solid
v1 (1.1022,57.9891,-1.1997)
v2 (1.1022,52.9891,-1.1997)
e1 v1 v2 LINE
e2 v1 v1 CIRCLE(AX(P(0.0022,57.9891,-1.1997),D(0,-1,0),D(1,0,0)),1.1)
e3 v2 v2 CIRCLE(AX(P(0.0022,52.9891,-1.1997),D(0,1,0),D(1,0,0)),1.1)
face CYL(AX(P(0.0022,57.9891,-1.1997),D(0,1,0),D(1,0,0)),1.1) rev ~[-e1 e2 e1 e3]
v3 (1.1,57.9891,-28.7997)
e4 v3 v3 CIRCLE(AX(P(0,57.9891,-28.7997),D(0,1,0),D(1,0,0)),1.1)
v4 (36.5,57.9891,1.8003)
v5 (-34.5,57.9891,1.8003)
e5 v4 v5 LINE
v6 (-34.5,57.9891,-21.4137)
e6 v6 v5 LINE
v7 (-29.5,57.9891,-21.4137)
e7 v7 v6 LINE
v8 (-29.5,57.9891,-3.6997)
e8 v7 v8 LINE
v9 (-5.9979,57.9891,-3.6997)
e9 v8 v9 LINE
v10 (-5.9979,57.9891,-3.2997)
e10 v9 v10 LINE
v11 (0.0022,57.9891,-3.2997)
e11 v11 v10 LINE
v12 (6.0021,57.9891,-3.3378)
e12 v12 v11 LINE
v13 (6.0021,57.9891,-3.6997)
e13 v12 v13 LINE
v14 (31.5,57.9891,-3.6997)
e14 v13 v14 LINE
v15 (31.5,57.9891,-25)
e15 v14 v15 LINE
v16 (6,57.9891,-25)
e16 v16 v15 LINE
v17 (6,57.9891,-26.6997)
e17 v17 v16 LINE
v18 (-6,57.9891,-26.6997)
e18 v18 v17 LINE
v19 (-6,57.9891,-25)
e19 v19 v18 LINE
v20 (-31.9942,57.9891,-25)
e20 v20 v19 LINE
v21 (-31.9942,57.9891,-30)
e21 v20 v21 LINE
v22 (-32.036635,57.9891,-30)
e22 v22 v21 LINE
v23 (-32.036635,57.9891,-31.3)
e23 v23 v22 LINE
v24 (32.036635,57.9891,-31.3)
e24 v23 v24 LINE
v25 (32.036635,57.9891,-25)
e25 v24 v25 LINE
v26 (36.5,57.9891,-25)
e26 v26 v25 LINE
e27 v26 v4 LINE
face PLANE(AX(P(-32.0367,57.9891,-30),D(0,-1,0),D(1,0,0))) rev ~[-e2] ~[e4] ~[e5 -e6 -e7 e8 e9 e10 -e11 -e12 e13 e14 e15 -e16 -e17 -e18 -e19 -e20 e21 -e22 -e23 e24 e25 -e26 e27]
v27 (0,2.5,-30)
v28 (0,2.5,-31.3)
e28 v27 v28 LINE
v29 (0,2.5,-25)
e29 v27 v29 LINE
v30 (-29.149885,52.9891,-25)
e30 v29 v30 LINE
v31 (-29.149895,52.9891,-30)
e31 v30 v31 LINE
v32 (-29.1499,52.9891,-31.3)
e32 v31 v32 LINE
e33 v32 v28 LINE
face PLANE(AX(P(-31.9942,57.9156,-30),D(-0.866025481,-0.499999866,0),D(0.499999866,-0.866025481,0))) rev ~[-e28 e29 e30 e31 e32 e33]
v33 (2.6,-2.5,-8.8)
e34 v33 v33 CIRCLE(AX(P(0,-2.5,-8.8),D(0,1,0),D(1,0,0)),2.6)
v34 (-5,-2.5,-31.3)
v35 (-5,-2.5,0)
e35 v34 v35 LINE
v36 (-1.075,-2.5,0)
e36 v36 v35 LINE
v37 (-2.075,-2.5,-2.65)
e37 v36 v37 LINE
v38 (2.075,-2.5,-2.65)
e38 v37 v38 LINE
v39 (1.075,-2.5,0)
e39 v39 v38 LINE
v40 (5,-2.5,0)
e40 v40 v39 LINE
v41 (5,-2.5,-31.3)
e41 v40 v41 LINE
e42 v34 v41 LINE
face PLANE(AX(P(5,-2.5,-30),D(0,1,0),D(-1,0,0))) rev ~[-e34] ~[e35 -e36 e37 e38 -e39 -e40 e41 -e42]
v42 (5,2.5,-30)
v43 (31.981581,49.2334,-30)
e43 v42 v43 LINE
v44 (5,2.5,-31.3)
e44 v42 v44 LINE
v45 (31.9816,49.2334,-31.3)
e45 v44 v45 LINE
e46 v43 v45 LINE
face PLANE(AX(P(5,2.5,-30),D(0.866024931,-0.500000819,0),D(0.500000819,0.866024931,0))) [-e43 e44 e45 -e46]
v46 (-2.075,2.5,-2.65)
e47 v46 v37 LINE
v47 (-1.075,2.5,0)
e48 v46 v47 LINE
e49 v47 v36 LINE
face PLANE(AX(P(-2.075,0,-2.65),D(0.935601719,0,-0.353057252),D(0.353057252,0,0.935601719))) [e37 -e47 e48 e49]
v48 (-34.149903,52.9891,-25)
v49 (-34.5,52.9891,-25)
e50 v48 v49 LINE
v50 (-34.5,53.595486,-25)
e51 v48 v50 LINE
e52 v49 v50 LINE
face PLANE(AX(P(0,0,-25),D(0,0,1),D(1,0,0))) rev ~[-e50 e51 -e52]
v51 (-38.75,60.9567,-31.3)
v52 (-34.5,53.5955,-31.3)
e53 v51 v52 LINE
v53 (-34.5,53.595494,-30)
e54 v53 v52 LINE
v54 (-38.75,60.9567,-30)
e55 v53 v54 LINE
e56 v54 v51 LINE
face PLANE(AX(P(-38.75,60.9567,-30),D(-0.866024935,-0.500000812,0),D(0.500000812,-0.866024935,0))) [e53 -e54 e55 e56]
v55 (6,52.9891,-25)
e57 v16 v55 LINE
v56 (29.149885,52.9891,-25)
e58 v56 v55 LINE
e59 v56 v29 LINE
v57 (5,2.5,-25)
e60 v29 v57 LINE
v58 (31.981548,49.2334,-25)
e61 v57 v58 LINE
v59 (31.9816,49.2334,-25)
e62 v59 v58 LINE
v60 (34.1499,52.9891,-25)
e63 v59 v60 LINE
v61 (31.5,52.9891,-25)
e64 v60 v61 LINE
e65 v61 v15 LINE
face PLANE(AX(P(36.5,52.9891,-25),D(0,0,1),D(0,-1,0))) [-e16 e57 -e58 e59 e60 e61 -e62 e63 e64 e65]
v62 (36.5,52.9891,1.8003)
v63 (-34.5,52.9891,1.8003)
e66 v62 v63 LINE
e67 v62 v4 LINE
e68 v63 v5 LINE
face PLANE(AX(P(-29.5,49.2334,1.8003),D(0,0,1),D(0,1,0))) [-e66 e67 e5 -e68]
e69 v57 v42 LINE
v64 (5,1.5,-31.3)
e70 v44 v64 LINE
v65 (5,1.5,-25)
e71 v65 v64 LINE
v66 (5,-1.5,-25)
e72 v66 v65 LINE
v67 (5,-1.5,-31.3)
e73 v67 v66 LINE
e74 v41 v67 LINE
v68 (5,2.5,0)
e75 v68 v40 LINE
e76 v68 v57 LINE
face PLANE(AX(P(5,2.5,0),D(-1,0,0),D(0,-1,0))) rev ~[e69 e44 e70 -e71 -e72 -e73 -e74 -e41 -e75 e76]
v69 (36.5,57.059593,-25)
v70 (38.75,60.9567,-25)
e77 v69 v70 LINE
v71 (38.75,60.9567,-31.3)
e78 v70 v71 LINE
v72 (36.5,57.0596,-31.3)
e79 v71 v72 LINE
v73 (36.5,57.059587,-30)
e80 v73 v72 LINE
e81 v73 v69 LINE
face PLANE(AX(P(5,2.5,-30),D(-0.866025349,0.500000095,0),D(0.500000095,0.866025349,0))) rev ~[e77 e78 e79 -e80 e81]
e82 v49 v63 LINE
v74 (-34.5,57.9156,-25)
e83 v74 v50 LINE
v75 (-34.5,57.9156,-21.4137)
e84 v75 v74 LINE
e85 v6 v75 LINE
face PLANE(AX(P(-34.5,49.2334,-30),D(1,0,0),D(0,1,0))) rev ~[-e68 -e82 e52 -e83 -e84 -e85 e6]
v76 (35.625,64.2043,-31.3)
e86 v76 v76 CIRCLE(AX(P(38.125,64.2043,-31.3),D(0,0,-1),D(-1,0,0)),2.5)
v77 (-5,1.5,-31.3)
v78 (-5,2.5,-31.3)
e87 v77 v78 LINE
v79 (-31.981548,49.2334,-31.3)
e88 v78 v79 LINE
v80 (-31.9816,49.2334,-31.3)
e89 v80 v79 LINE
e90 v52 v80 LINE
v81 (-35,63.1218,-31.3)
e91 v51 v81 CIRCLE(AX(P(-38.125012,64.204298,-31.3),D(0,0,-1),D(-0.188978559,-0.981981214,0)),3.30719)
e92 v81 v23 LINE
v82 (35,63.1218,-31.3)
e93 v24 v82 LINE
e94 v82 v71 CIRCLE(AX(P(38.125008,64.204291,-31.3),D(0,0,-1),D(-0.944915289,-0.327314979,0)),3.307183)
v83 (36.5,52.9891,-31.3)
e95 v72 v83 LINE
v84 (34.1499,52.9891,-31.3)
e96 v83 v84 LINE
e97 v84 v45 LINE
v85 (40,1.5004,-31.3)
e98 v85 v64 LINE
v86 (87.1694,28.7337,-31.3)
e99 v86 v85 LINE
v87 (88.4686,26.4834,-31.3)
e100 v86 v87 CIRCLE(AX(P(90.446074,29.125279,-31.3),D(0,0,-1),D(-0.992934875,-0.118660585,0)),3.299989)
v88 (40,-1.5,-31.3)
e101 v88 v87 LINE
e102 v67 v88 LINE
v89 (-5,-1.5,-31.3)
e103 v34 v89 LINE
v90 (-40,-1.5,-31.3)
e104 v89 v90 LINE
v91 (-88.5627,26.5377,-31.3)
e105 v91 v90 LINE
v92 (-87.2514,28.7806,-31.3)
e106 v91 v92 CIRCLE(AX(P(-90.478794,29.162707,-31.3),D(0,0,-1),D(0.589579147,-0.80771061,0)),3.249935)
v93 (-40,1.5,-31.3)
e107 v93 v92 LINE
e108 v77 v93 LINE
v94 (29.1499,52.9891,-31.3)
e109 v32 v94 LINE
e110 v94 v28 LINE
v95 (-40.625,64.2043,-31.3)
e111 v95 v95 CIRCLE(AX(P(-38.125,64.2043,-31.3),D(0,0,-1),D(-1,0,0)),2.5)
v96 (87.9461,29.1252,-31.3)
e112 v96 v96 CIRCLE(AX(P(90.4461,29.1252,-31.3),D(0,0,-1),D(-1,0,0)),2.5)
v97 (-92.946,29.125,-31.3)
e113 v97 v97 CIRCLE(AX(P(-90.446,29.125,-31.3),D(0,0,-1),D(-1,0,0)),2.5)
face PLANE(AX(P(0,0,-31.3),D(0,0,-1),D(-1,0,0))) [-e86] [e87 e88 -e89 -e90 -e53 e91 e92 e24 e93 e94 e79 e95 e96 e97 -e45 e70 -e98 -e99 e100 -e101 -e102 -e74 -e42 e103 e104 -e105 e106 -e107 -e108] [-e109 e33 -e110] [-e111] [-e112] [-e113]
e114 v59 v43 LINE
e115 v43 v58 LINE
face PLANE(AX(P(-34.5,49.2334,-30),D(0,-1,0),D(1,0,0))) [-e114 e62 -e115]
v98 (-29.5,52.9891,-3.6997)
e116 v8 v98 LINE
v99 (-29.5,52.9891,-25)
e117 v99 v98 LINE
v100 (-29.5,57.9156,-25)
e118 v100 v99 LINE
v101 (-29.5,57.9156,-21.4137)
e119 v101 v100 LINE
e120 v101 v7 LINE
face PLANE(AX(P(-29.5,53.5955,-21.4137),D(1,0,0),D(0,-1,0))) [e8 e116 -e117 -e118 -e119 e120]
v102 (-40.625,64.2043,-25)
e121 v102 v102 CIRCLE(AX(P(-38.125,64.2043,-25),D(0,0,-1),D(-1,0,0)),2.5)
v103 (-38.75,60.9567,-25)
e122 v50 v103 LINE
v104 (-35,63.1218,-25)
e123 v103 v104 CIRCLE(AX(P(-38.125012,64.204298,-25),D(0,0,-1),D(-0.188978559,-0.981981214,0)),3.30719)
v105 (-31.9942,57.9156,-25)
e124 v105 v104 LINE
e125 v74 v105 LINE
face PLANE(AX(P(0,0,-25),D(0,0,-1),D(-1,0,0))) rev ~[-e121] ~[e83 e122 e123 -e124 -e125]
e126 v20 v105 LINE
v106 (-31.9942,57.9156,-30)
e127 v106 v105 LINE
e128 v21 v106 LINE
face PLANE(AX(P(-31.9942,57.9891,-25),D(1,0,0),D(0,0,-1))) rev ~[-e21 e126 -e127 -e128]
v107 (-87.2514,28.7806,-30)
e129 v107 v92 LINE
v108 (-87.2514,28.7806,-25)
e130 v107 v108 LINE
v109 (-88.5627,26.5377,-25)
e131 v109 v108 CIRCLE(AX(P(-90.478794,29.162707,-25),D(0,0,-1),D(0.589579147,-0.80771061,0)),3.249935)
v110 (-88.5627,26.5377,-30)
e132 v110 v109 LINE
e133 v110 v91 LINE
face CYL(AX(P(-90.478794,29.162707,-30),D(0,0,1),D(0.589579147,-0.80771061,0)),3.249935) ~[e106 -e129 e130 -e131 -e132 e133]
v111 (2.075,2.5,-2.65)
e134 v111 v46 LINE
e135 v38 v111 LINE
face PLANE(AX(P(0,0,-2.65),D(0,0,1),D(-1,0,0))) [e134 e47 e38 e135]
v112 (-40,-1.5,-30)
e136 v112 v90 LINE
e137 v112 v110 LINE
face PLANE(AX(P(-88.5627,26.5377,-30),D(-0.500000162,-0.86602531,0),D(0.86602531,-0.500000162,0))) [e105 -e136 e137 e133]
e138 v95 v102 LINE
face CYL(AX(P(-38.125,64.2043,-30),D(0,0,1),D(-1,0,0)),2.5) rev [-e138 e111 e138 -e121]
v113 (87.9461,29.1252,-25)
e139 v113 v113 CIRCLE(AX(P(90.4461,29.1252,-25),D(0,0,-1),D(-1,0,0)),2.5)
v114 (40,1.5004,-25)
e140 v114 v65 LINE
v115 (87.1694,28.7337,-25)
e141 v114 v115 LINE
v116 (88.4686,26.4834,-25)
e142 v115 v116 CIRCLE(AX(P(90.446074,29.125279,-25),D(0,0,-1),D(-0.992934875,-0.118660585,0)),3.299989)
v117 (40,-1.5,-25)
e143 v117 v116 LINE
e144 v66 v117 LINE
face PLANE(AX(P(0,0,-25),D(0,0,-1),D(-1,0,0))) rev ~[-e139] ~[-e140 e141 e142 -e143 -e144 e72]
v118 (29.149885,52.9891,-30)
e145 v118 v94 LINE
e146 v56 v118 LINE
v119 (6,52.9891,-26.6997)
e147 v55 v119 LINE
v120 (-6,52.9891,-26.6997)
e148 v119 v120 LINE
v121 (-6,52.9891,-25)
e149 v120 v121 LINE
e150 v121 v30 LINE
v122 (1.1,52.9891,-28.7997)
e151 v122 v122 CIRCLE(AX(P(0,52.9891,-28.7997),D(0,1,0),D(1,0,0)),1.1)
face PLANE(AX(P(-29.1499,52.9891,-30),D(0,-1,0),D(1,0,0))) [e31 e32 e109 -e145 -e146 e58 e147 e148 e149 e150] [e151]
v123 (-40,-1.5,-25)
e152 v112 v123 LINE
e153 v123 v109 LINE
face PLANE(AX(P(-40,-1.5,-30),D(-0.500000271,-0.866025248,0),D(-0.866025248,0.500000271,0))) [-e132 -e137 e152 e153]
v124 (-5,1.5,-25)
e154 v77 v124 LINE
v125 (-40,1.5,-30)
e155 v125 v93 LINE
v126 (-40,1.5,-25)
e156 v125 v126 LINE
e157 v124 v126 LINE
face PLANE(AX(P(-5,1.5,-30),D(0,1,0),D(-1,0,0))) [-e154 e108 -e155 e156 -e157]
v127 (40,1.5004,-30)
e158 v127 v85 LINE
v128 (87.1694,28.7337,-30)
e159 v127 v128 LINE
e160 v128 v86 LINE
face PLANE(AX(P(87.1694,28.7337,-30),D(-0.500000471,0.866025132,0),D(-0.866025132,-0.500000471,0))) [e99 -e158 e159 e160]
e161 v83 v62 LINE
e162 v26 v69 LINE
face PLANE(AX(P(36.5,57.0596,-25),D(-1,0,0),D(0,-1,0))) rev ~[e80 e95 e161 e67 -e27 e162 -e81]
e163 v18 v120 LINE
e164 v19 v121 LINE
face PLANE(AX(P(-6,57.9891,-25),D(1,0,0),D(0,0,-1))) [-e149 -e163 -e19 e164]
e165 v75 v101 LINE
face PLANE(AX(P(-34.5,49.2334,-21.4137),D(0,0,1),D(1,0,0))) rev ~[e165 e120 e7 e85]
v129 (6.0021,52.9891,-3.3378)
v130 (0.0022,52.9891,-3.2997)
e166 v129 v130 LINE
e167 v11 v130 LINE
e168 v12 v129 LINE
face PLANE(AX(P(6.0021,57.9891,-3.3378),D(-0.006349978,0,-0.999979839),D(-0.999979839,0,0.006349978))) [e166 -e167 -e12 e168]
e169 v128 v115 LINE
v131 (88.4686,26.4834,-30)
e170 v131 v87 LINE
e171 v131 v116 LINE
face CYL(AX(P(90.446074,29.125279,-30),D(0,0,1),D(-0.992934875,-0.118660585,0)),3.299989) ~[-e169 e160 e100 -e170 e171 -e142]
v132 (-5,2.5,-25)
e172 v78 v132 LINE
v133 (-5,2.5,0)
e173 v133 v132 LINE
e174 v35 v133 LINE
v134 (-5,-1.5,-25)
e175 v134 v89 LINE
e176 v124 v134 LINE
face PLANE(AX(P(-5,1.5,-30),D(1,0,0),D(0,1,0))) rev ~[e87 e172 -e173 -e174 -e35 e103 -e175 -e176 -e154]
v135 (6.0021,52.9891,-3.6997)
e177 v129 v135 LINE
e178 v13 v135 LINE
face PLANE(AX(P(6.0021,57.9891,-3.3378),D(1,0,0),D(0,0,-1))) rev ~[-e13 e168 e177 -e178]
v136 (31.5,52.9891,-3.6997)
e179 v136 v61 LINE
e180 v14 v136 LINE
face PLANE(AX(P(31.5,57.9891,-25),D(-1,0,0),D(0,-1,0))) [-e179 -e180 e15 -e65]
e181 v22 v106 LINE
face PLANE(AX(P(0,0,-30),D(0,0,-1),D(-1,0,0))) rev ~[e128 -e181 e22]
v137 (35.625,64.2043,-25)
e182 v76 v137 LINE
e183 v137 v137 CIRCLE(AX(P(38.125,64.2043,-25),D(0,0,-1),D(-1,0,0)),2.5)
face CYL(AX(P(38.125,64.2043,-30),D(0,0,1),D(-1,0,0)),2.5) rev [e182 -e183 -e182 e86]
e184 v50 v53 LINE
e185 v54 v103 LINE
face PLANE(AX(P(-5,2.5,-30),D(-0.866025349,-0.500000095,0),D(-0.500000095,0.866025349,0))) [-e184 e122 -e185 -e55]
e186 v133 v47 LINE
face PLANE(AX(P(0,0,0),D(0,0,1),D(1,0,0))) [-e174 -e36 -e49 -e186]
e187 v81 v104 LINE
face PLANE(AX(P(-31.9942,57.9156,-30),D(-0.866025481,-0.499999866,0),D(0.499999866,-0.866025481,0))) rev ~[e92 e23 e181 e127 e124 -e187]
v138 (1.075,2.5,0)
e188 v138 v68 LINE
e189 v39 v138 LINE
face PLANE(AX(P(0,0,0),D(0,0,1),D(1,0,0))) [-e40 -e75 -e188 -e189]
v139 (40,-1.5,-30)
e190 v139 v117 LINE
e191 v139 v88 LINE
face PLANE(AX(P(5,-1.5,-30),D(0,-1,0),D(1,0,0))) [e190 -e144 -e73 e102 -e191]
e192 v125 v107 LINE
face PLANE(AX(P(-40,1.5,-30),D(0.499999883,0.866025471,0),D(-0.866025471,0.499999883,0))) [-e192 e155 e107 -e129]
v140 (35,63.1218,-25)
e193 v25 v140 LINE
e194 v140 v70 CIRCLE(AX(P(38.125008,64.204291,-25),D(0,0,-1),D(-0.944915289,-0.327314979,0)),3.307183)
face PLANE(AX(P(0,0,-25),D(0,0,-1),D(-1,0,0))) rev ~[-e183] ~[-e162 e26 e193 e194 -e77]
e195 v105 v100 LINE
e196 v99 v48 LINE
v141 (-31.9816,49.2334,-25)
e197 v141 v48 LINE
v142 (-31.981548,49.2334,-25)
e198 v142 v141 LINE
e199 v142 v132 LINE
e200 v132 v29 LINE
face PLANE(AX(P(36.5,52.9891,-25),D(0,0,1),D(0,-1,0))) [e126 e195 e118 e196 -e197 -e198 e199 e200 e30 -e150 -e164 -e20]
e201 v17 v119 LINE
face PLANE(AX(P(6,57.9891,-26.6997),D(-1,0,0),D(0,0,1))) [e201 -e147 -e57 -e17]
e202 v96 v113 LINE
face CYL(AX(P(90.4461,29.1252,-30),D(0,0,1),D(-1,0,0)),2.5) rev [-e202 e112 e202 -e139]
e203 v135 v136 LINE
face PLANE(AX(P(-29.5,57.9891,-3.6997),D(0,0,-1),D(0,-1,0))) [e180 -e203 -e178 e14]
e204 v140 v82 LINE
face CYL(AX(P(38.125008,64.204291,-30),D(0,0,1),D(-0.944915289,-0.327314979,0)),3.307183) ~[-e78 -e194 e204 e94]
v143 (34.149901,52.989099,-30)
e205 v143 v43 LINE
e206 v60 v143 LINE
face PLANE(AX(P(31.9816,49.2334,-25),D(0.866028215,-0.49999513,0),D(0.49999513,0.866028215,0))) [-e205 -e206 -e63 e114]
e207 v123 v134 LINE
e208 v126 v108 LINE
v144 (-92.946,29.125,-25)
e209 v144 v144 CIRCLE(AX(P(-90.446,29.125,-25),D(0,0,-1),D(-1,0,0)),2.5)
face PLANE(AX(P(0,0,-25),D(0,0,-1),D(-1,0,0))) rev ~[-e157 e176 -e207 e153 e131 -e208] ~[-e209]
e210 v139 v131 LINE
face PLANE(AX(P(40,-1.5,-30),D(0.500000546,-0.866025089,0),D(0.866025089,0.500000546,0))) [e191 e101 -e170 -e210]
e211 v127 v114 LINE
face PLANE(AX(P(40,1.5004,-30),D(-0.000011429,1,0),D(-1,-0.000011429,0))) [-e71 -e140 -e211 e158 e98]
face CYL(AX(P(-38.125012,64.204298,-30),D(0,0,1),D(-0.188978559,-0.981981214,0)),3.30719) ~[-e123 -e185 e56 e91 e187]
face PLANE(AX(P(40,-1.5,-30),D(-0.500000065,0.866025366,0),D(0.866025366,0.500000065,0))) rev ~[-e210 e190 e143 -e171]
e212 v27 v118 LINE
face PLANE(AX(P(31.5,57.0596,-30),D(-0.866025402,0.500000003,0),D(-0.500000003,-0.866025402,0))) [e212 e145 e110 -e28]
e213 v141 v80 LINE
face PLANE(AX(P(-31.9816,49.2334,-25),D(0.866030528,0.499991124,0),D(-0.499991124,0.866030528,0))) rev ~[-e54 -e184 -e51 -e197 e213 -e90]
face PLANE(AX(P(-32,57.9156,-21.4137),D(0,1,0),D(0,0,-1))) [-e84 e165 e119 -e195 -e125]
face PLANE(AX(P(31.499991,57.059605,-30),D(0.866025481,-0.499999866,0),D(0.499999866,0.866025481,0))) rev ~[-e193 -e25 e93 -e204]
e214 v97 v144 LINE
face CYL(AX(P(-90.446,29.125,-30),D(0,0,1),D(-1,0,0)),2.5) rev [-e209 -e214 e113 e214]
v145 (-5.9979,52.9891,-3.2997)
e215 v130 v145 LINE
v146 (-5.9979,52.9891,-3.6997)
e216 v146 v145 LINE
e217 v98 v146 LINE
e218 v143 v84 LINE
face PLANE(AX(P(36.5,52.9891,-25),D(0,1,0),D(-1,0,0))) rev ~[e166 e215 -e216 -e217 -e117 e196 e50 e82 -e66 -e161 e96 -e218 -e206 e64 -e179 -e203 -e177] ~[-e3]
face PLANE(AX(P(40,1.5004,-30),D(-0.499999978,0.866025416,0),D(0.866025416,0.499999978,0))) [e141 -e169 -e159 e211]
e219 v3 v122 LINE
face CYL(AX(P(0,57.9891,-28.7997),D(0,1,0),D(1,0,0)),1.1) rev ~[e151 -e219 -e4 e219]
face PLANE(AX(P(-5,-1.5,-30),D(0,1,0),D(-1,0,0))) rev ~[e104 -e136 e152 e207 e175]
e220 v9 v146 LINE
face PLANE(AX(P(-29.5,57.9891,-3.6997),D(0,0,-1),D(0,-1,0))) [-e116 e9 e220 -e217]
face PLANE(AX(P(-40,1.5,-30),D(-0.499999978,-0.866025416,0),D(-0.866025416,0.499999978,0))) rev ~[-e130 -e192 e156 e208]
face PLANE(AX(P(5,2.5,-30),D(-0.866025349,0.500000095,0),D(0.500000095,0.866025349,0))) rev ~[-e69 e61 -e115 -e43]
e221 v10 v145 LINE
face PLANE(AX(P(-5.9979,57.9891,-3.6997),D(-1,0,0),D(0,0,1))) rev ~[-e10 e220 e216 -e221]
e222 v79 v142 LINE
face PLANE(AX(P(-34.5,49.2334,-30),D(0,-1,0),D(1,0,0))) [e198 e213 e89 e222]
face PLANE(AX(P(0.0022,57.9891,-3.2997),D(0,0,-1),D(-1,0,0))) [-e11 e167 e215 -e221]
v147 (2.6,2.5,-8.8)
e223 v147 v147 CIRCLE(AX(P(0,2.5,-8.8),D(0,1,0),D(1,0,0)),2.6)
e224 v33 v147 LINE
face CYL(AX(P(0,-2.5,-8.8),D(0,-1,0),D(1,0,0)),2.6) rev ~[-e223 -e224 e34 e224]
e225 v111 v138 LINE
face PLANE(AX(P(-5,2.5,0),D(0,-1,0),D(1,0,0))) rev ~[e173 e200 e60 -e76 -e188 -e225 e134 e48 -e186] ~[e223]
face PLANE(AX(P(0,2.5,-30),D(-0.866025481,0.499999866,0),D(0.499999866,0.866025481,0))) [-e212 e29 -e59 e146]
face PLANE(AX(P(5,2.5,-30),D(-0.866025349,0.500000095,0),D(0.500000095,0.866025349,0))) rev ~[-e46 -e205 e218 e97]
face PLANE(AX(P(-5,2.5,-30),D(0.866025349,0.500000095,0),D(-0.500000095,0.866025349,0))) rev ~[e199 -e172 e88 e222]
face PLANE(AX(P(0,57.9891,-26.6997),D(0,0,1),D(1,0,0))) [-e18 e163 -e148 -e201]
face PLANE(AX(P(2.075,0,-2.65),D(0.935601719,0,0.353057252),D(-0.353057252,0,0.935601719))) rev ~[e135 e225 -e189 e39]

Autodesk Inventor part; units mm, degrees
ref_plane "XZ Plane" through (0, 0, 0) normal (0, 1, 0) x (-1, 0, 0)
ref_plane "XY Plane" through (0, 0, 0) normal (0, 0, 1) x (1, 0, 0)
sketch "Sketch1" plane through (0, 0, 0) normal (0, 0, 1) x (1, 0, 0)
  line L0 (5, -2.5) -> (-5, -2.5)
  line L1 (-5, -2.5) -> (-5, 2.5)
  line L2 (-5, 2.5) -> (5, 2.5)
  line L3 (5, 2.5) -> (5, -2.5)
  line L4 (5, -2.5) -> (-5, 2.5) construction
  line L5 (-5, -2.5) -> (5, 2.5) construction
  point P0 (0, 0)
  dimension "d0" = 10
  dimension "d1" = 5
extrude "Extrusion1" add sketch "Sketch1" against normal blind 30
sketch "Sketch2" plane through (0, 0, 0) normal (0, 1, 0) x (-1, 0, 0)
  line L0 (0, 0) -> (0, -2.65)
  line L1 (0, -2.65) -> (2.075, -2.65)
  line L2 (0, -2.65) -> (-2.075, -2.65)
  line L3 (0, 0) -> (-1.075, 0)
  line L4 (-5, 0) -> (5, 0) projected
  line L5 (0, 0) -> (1.075, 0)
  line L6 (2.075, -2.65) -> (1.075, 0)
  line L7 (-2.075, -2.65) -> (-1.075, 0)
  point P0 (-0.025, -2.7)
  dimension "d13" = 2.075
  dimension "d74" = 2.075
  dimension "d75" = 1.075
  dimension "d76" = 1.075
  dimension "d77" = 2.65
extrude "Extrusion2" cut sketch "Sketch2" along normal through all both and the other way through all
sketch "Sketch3" plane through (0, 0, -30) normal (0, 0, -1) x (-1, 0, 0)
  line L0 (5, -2.5) -> (5, 2.5) projected
  line L1 (5, 0) -> (5, 1.5)
  line L2 (5, 1.5) -> (40, 1.5)
  line L3 (5, 1.5) -> (40, 1.5) construction
  line L4 (40, 1.5) -> (40, -1.5)
  line L5 (40, -1.5) -> (5, -1.5)
  line L6 (5, 1.5) -> (5, -1.5)
  line L7 (-5, 2.5) -> (-5, -2.5) projected
  line L8 (-5, -1.5) -> (-5, 1.5)
  line L9 (-5, 0) -> (-5, 1.5)
  line L10 (-5, 0) -> (-5, -1.5)
  line L11 (-40, -1.5) -> (-40, 1.5004)
  line L12 (-40, 1.5004) -> (-5, 1.5)
  line L13 (-5, 0) -> (-5, -1.5)
  line L14 (-5, -1.5) -> (-40, -1.5)
  point P0 (0, 0)
  point P1 (5, 0)
  dimension "d17" = 35
  dimension "d19" = 3
  dimension "d26" = 1.5
  dimension "d28" = 1.5
  dimension "d29" = 35
  dimension "d30" = 35
  dimension "d31" = 1.5
extrude "Extrusion3" add sketch "Sketch3" against normal blind 5
sketch "Sketch4" plane through (0, 0, -30) normal (0, 0, -1) x (-1, 0, 0)
  line L0 (40, -1.5) -> (40, 1.5) projected
  line L1 (40, -1.5) -> (97.5, -1.5) construction
  line L2 (40, 1.5) -> (5, 1.5) projected
  line L3 (40, 1.5) -> (87.6314, 29)
  line L4 (40, 1.5) -> (95, 1.5) construction
  line L5 (5, -1.5) -> (40, -1.5) projected
  line L6 (40, -1.5) -> (88.9304, 26.75)
  line L7 (88.9304, 26.75) -> (87.6314, 29)
  line L8 (-5, -1.5) -> (-40, -1.5) projected
  line L9 (-40, -1.5) -> (-88.9306, 26.7501)
  line L10 (-40, -1.5) -> (18, -1.5) construction
  line L11 (-40, 1.5004) -> (-5, 1.5) projected
  line L12 (-40, 1.5004) -> (-87.6314, 29.0004)
  line L13 (-40, 1.5004) -> (15, 1.5004) construction
  line L14 (-87.6314, 29.0004) -> (-88.9306, 26.7501)
  line L15 (87.6314, 29) -> (88.2809, 27.875)
  line L16 (88.2809, 27.875) -> (90.446, 29.125)
  line L17 (88.2809, 27.875) -> (90.7809, 27.875) construction
  circle A0 centre (90.446, 29.125) radius 2.5
  arc A1 (88.5627, 26.5377) -> (87.2514, 28.7806) centre (90.4788, 29.1627) ccw
  line L18 (-88.281, 27.8752) -> (-90.4461, 29.1252)
  line L19 (-88.281, 27.8752) -> (-85.781, 27.8752) construction
  circle A2 centre (-90.4461, 29.1252) radius 2.5
  arc A3 (-87.1694, 28.7337) -> (-88.4686, 26.4834) centre (-90.4461, 29.1252) ccw
  line L20 (5, 2.5) -> (-5, 2.5) projected
  line L21 (0, 2.5) -> (-35, 63.1218)
  line L22 (0, 2.5) -> (70, 2.5) construction
  line L23 (0, 2.5) -> (35, 63.1218)
  line L24 (0, 2.5) -> (70, 2.5) construction
  line L25 (-5, 2.5) -> (-38.75, 60.9567)
  line L26 (-5, 2.5) -> (68.5, 2.5) construction
  line L27 (5, 2.5) -> (38.75, 60.9567)
  line L28 (5, 2.5) -> (73.5, 2.5) construction
  line L29 (-35, 63.1218) -> (-38.75, 60.9567)
  line L30 (35, 63.1218) -> (38.75, 60.9567)
  line L31 (-36.875, 62.0392) -> (-38.125, 64.2043)
  circle A4 centre (-38.125, 64.2043) radius 2.5
  line L32 (36.875, 62.0392) -> (38.125, 64.2043)
  circle A5 centre (38.125, 64.2043) radius 2.5
  line L33 (-40, -1.5) -> (-40, 1.5004) projected
  line L34 (-40, 1.5004) -> (-40, -1.5)
  line L35 (40, 1.5) -> (40, -1.5)
  line L36 (-5, 2.5) -> (-5, 1.5) projected
  line L37 (-5, 2.5) -> (0, 2.5)
  line L38 (0, 2.5) -> (5, 2.5)
  arc A6 (38.75, 60.9567) -> (35, 63.1218) centre (38.125, 64.2043) ccw
  arc A7 (-35, 63.1218) -> (-38.75, 60.9567) centre (-38.125, 64.2043) ccw
  point P0 (0, 0)
  dimension "d58" = 5
  dimension "d34" = 55
  dimension "d35" = 30
  dimension "d38" = 150
  dimension "d39" = 55
  dimension "d40" = 150
  dimension "d41" = 2.5
  dimension "d42" = 30
  dimension "d43" = 0.8
  dimension "d44" = 2.5
  dimension "d45" = 150
  dimension "d46" = 0.8
  dimension "d47" = 120
  dimension "d48" = 60
  dimension "d49" = 70
  dimension "d50" = 70
  dimension "d52" = 120
  dimension "d54" = 60
  dimension "d55" = 2.5
  dimension "d59" = 2.5
extrude "Extrusion4" add sketch "Sketch4" against normal blind 5
sketch "Sketch5" plane through (-5, -2.5, -30) normal (0, -1, 0) x (1, 0, 0)
  line L0 (0, 5) -> (0, 0) projected
  line L1 (0, 0) -> (0, 21.2)
  line L2 (0, 30) -> (0, 5) projected
  line L3 (0, 21.2) -> (1.9, 21.2) construction
  line L4 (0, 21.2) -> (1.9, 21.2) construction
  line L5 (1.9, 21.2) -> (5, 21.2)
  line L6 (2.95, 23.25) -> (7.05, 19.15) construction
  line L7 (7.05, 23.25) -> (2.95, 19.15) construction
  circle A0 centre (5, 21.2) radius 2.6
  line L8 (5, 21.2) -> (0, 21.2)
  point P0 (5, 30)
  dimension "d64" = 21.2
  dimension "d66" = 0
  dimension "d69" = 4.1
  dimension "d70" = 4.1
  dimension "d78" = 5.2
  dimension "d79" = 5
extrude "Extrusion5" cut sketch "Sketch5" against normal through all
ref_plane "Work Plane1" through (-32, 0, 0) normal (1, 0, 0) x (0, 1, 0)
sketch "Sketch6" plane through (-32, 0, 0) normal (1, 0, 0) x (0, 1, 0)
  line L0 (0, 0) -> (0, -25)
  line L1 (-1.5, -25) -> (1.5, -25) projected
  line L2 (0, -25) -> (49.2334, -25)
  line L3 (63.1218, -25) -> (2.5, -25) projected
  line L4 (49.2334, -25) -> (49.2334, -21.4137)
  line L5 (49.2334, -21.4137) -> (57.9156, -21.4137)
  line L6 (57.9156, -21.4137) -> (57.9156, -25)
extrude "Extrusion6" add sketch "Sketch6" along normal mid plane 5
sketch "Sketch7" plane through (-31.9816, 49.2334, -25) normal (0, 0, -1) x (-1, 0, 0)
  line L0 (2.5184, 8.6821) -> (-2.4816, 8.6821) projected
  line L1 (-2.4816, 0) -> (2.5184, 0) projected
  line L2 (2.5184, 8.6821) -> (2.5184, 0)
  line L3 (2.5184, 0) -> (-2.4816, 0)
  line L4 (-2.4816, 0) -> (-2.4816, 8.6821)
  line L5 (-2.4816, 8.6821) -> (2.5184, 8.6821)
  point P0 (-31.9816, -49.2334)
  dimension "d125" = 8.6821
extrude "Extrusion7" add sketch "Sketch7" along normal blind 5
sketch "Sketch8" plane through (-34.5, 49.2334, -21.4137) normal (0, 0, 1) x (1, 0, 0)
  line L0 (2.5184, 0) -> (0, 0) projected
  line L1 (5, 4.3621) -> (5, 0) projected
  line L2 (0, 0) -> (5, 0)
  line L3 (5, 0) -> (5, 8.7557)
  line L4 (5, 8.7557) -> (0, 8.7557)
  line L5 (0, 0) -> (0, 4.3621) projected
  line L6 (0, 8.7557) -> (0, 0)
  point P0 (34.5, -49.2334)
extrude "Extrusion8" add sketch "Sketch8" along normal blind 23.214
sketch "Sketch10" plane through (-29.5, 0, 0) normal (1, 0, 0) x (0, 0, -1)
  line L0 (25, 49.2334) -> (-1.8003, 49.2334) projected
  line L1 (-1.8003, 49.2334) -> (-1.8003, 57.9891) projected
  line L2 (-1.8003, 49.2334) -> (-1.8003, 57.9891)
  line L3 (-1.8003, 57.9891) -> (3.6997, 57.9891)
  line L4 (21.4137, 57.9891) -> (-1.8003, 57.9891) projected
  line L5 (3.6997, 57.9891) -> (3.6997, 49.2334)
  line L6 (3.6997, 49.2334) -> (-1.8003, 49.2334)
  line L7 (-1.8003, 57.9891) -> (-1.8003, 49.2334)
  point P0 (0, 0)
  dimension "d87" = 5.5
extrude "Extrusion9" add sketch "Sketch10" along normal blind 66
sketch "Sketch11" plane through (-29.5, 49.2334, -3.6997) normal (0, 0, -1) x (-1, 0, 0)
  line L0 (5, 0) -> (-66, 0) projected
  line L1 (-66, 8.7557) -> (-66, 0) projected
  line L2 (-66, 0) -> (-66, 8.7557)
  line L3 (-66, 8.7557) -> (-61, 8.7557)
  line L4 (-61, 8.7557) -> (-61, 0)
  line L5 (-61, 0) -> (-66, 0)
  point P0 (-29.5, -49.2334)
  point P1 (-61, 0)
  dimension "d90" = 5
  dimension "d124" = 8.7557
extrude "Extrusion10" add sketch "Sketch11" along normal up to surface (21.3003 mm away)
sketch "Sketch12" plane through (36.5, 49.2334, -25) normal (0, 0, -1) x (-1, 0, 0)
  line L0 (71, 8.7557) -> (0, 8.7557) projected
  line L1 (71, 0) -> (0, 0) projected
  line L2 (0, 8.7557) -> (0, 0) projected
  line L3 (0, 0) -> (0, 8.7557)
  line L4 (0, 8.7557) -> (5, 8.7557)
  line L5 (5, 8.7557) -> (5, 0)
  line L6 (0, 0) -> (5, 0)
  point P0 (36.5, -49.2334)
  dimension "d94" = 5
extrude "Extrusion11" add sketch "Sketch12" along normal up to surface (5 mm away)
sketch "Sketch13" plane through (-34.5, 57.9891, -21.4137) normal (0, 1, 0) x (1, 0, 0)
  line L0 (0, -23.214) -> (71, -23.214) projected
  line L1 (34.4572, -23.214) -> (37.4572, -23.214) construction
  line L2 (34.5022, -23.214) -> (34.5022, -20.214)
  line L3 (34.5022, -23.214) -> (37.5022, -23.214) construction
  circle A0 centre (34.5022, -20.214) radius 1.1
  dimension "d100" = 3
  dimension "d101" = 90
  dimension "d102" = 2.2
extrude "Extrusion12" cut sketch "Sketch13" against normal blind 11
sketch "Sketch14" plane through (-34.5, 57.9891, -21.4137) normal (0, 1, 0) x (1, 0, 0)
  circle A0 centre (34.5022, -20.214) radius 1.1 projected
  line L0 (34.5022, -20.214) -> (59.5022, -20.214) construction
  line L1 (34.5022, 5.886) -> (34.5022, 7.286)
  line L2 (5, 8.5863) -> (34.5, 8.5863) projected
  line L3 (34.5022, 5.886) -> (35.9022, 5.886) construction
  line L4 (66.5367, 3.5863) -> (71, 3.5863) projected
  line L5 (71, 7.286) -> (71, 3.5863)
  line L6 (0, 7.286) -> (0, 3.5863)
  line L7 (29.5, 3.5863) -> (-5.5, 3.5863) projected
  line L8 (34.5022, 3.686) -> (34.5022, 2.286)
  line L9 (34.5022, 3.686) -> (35.9022, 3.686) construction
  line L10 (34.5, 3.5863) -> (34.5, 8.5863) projected
  line L11 (66.5367, 8.5863) -> (66.5367, 3.5863) projected
  line L12 (2.5058, 3.5863) -> (2.5058, 8.5863) projected
  line L13 (66.5367, 3.5863) -> (2.5058, 3.5863)
  line L14 (2.5058, 3.5863) -> (2.5058, 8.5863)
  line L15 (29.5, 8.5863) -> (-5.5, 8.5863) projected
  line L16 (2.5058, 8.5863) -> (66.5367, 8.5863)
  line L17 (66.5367, 8.5863) -> (66.5367, 3.5863)
  point P0 (34.5, -21.4137)
  dimension "d108" = 1.4
  dimension "d109" = 90
  dimension "d111" = 1.4
  dimension "d112" = 90
extrude "Extrusion13" add sketch "Sketch14" against normal blind 5 contours L2 L10 L13 L7 L12 L15 | L16 L11 L13 L10
sketch "Sketch15" plane through (0, 0, -30) normal (0, 0, -1) x (-1, 0, 0)
  line L0 (0, 0) -> (0, -2.5)
  line L1 (-2.075, -2.5) -> (2.075, -2.5) projected
  line L2 (5, -2.5) -> (1.075, -2.5) projected
  line L3 (0, -2.5) -> (5, -2.5)
  line L4 (5, -2.5) -> (5, -1.5)
  line L5 (88.5627, 26.5377) -> (40, -1.5) projected
  line L6 (5, -1.5) -> (40, -1.5)
  line L7 (40, -1.5) -> (88.5627, 26.5377)
  line L8 (40, 1.5) -> (87.2514, 28.7806) projected
  line L9 (87.2514, 28.7806) -> (40, 1.5)
  line L10 (5, 1.5) -> (40, 1.5) projected
  line L11 (40, 1.5) -> (5, 1.5)
  line L12 (0, 2.5) -> (5, 2.5) projected
  line L13 (5, 1.5) -> (5, 2.5)
  line L14 (38.75, 60.9567) -> (34.5, 53.5955) projected
  line L15 (5, 2.5) -> (38.75, 60.9567)
  circle A0 centre (38.125, 64.2043) radius 2.5 projected
  arc A1 (38.75, 60.9567) -> (35, 63.1218) centre (38.125, 64.2043) ccw
  circle A2 centre (38.125, 64.2043) radius 2.5
  line L16 (35, 63.1218) -> (0, 2.5)
  line L17 (31.9942, 57.9156) -> (35, 63.1218) projected
  line L18 (-31.5, 57.0596) -> (0, 2.5) projected
  arc A3 (-35, 63.1218) -> (-38.75, 60.9567) centre (-38.125, 64.2043) ccw projected
  line L19 (0, 2.5) -> (-35, 63.1218)
  arc A4 (-35, 63.1218) -> (-38.75, 60.9567) centre (-38.125, 64.2043) ccw
  circle A5 centre (-38.125, 64.2043) radius 2.5
  line L20 (-5, 2.5) -> (-31.9816, 49.2334) projected
  line L21 (-38.75, 60.9567) -> (-5, 2.5)
  line L22 (-5, 2.5) -> (-5, 1.5)
  line L23 (-5, -2.5) -> (-5, 2.5) projected
  line L24 (-40, 1.5004) -> (-5, 1.5) projected
  line L25 (-5, 1.5) -> (-40, 1.5004)
  line L26 (-87.1694, 28.7337) -> (-40, 1.5004) projected
  line L27 (-40, 1.5004) -> (-87.1694, 28.7337)
  circle A6 centre (-90.4461, 29.1252) radius 2.5 projected
  circle A7 centre (-90.4461, 29.1252) radius 2.5
  line L28 (-40, -1.5) -> (-88.4686, 26.4834) projected
  arc A8 (-87.1694, 28.7337) -> (-88.4686, 26.4834) centre (-90.4461, 29.1252) ccw
  line L29 (-88.4686, 26.4834) -> (-40, -1.5)
  line L30 (-5, -1.5) -> (-40, -1.5) projected
  line L31 (-40, -1.5) -> (-5, -1.5)
  line L32 (-5, -1.5) -> (-5, -2.5)
  line L33 (-5, -2.5) -> (5, -2.5)
  line L34 (-5, 1.5) -> (5, 1.5)
  line L35 (-5, -1.5) -> (-5, 1.5) projected
  line L36 (-5, -1.5) -> (-5, 1.5)
  line L37 (5, -1.5) -> (5, 2.5)
  line L38 (40, -1.5) -> (88.5627, 26.5377)
  circle A9 centre (90.446, 29.125) radius 2.5 projected
  arc A10 (88.5627, 26.5377) -> (87.2514, 28.7806) centre (90.4788, 29.1627) ccw projected
  arc A11 (88.5627, 26.5377) -> (87.2514, 28.7806) centre (90.4788, 29.1627) ccw
  circle A12 centre (90.446, 29.125) radius 2.5
  dimension "d117" = 1
extrude "Extrusion14" add sketch "Sketch15" along normal blind 1.3
sketch "Sketch17" plane through (0, 0, -30) normal (0, 0, -1) x (-1, 0, 0)
  line L0 (34.5, 49.2334) -> (-36.5, 49.2334) projected
  line L1 (34.5, 49.2334) -> (34.5, 53.5961)
  line L2 (34.5, 53.5961) -> (31.9807, 49.2334)
  point P0 (0, 0)
extrude "Extrusion16" add sketch "Sketch17" along normal blind 1.3
sketch "Sketch18" plane through (36.5, 0, 0) normal (1, 0, 0) x (0, 0, -1)
  line L0 (30, 57.9891) -> (25, 57.9891) projected
  line L1 (25, 57.9891) -> (25, 52.9891)
  line L2 (25, 52.9891) -> (-2.8863, 52.9891)
  line L3 (-2.8863, 52.9891) -> (-2.8863, 45.156)
  line L4 (-2.8863, 45.156) -> (25, 45.156)
  line L5 (25, 2.5) -> (25, 49.2334) projected
  line L6 (25, 52.9891) -> (25, 45.156)
  line L7 (25, 57.9891) -> (25, 49.2334) projected
  point P0 (0, 0)
  point P1 (31.2997, 57.9891)
  point P2 (25, 57.0596)
  point P3 (31.3, 57.9891)
  dimension "d126" = 5
extrude "Extrusion17" cut sketch "Sketch18" against normal through all
sketch "Sketch20" plane through (0, 0, -30) normal (0, 0, -1) x (-1, 0, 0)
  line L0 (34.5, 57.9891) -> (-36.5, 57.9891) projected
  line L1 (29.1499, 52.9891) -> (31.9942, 57.9156) projected
  line L2 (32.0367, 57.9891) -> (29.1499, 52.9891)
  line L3 (-32.0367, 57.9891) -> (-29.1499, 52.9891) projected
  line L4 (29.1499, 52.9891) -> (-29.1499, 52.9891)
  line L5 (-29.1499, 52.9891) -> (-32.0367, 57.9891)
  line L6 (-32.0367, 57.9891) -> (32.0367, 57.9891)
  point P0 (0, 0)
extrude "Extrusion18" add sketch "Sketch20" along normal blind 1.3
sketch "Sketch21" plane through (-34.5, 57.9891, -21.4137) normal (0, 1, 0) x (1, 0, 0)
  circle A0 centre (34.5022, -20.214) radius 1.1 projected
  circle A1 centre (34.5, 7.386) radius 1.1
  point P0 (34.5, -21.4137)
  dimension "d133" = 2.2
extrude "Extrusion19" cut sketch "Sketch21" against normal blind 10 contours A1
sketch "Sketch22" plane through (-34.5, 57.9891, -21.4137) normal (0, 1, 0) x (1, 0, 0)
  circle A0 centre (34.5022, -20.214) radius 1.1 projected
  line L0 (34.5022, -19.114) -> (34.5022, -18.114)
  line L1 (66, -17.714) -> (5, -17.714) projected
  line L2 (34.5022, -19.114) -> (35.5022, -19.114) construction
  line L3 (34.5022, -18.114) -> (28.5021, -18.114)
  line L4 (5, -18.114) -> (5, -17.714)
  line L5 (5, -17.714) -> (66, -17.714)
  line L6 (66, -17.714) -> (66, -17.914)
  line L7 (40.5021, -18.0759) -> (34.5022, -18.114)
  line L8 (34.5022, -18.114) -> (40.5021, -18.0759)
  line L9 (40.5021, -18.0759) -> (40.5021, -17.714)
  line L10 (40.5021, -17.714) -> (28.5021, -17.714)
  line L11 (28.5021, -17.714) -> (28.5021, -18.114)
  point P0 (34.5, -21.4137)
  dimension "d136" = 1
  dimension "d137" = 90
  dimension "d149" = 6
  dimension "d150" = 12
extrude "Extrusion20" cut sketch "Sketch22" against normal blind 10 contours L3 L11 L1 L9 L7
sketch "Sketch25" plane through (-34.5, 57.9891, -21.4137) normal (0, 1, 0) x (1, 0, 0)
  circle A0 centre (34.5, 7.386) radius 1.1 projected
  line L0 (34.5, 6.286) -> (34.5, 5.286)
  line L1 (34.5, 3.5863) -> (34.5, 9.8863) projected
  line L2 (34.5, 5.286) -> (40.5, 5.286)
  line L3 (40.5, 5.286) -> (40.5, 3.5863)
  line L4 (63.6499, 3.5863) -> (5.3501, 3.5863) projected
  line L5 (40.5, 3.5863) -> (28.5, 3.5863)
  line L6 (28.5, 3.5863) -> (28.5, 5.286)
  line L7 (28.5, 5.286) -> (34.5, 5.286)
  point P0 (34.5, -21.4137)
  dimension "d144" = 1
  dimension "d145" = 6
  dimension "d146" = 12
extrude "Extrusion21" cut sketch "Sketch25" against normal blind 10 contours L2 L3 L4 L1 | L1 L4 L6 L7
sketch "Sketch26" plane through (0, 0, -25) normal (0, 0, 1) x (1, 0, 0)
  line L0 (-5, 2.5) -> (-31.9816, 49.2334) projected
  line L1 (-34.5, 49.2334) -> (-34.5, 53.5955) projected
  line L2 (-31.9816, 49.2334) -> (-34.5, 53.5955)
  line L3 (-31.9816, 49.2334) -> (-34.5, 49.2334) projected
  line L4 (-34.5, 53.5955) -> (-34.5, 49.2334)
  line L5 (-34.5, 49.2334) -> (-31.9816, 49.2334)
  point P0 (0, 0)
extrude "Extrusion22" cut sketch "Sketch26" against normal blind 10
sketch "Sketch27" plane through (0, 0, -25) normal (0, 0, 1) x (1, 0, 0)
  line L0 (31.9816, 49.2334) -> (36.5, 49.2334) projected
  line L1 (36.5, 57.0596) -> (38.75, 60.9567) projected
  line L2 (31.9816, 49.2334) -> (36.5, 57.0596)
  line L3 (36.5, 57.0596) -> (36.5, 49.2334)
  line L4 (36.5, 49.2334) -> (31.9816, 49.2334)
  point P0 (0, 0)
extrude "Extrusion23" cut sketch "Sketch27" against normal blind 10
sketch "Sketch28" plane through (0, 0, -25) normal (0, 0, -1) x (-1, 0, 0)
  line L0 (-36.5, 57.9891) -> (-36.5, 52.9891) projected
  line L1 (-36.5, 52.9891) -> (-34.1499, 52.9891) projected
  line L2 (-36.5, 52.9891) -> (-34.1499, 52.9891)
  line L3 (-36.5, 57.0596) -> (-34.1499, 52.9891) projected
  line L4 (-34.1499, 52.9891) -> (-36.5, 57.0596)
  line L5 (-36.5, 57.0596) -> (-36.5, 52.9891)
  point P0 (0, 0)
extrude "Extrusion24" add sketch "Sketch28" along normal up to surface (6.3 mm away)
properties part number "pelvis øvre del stor servo"
